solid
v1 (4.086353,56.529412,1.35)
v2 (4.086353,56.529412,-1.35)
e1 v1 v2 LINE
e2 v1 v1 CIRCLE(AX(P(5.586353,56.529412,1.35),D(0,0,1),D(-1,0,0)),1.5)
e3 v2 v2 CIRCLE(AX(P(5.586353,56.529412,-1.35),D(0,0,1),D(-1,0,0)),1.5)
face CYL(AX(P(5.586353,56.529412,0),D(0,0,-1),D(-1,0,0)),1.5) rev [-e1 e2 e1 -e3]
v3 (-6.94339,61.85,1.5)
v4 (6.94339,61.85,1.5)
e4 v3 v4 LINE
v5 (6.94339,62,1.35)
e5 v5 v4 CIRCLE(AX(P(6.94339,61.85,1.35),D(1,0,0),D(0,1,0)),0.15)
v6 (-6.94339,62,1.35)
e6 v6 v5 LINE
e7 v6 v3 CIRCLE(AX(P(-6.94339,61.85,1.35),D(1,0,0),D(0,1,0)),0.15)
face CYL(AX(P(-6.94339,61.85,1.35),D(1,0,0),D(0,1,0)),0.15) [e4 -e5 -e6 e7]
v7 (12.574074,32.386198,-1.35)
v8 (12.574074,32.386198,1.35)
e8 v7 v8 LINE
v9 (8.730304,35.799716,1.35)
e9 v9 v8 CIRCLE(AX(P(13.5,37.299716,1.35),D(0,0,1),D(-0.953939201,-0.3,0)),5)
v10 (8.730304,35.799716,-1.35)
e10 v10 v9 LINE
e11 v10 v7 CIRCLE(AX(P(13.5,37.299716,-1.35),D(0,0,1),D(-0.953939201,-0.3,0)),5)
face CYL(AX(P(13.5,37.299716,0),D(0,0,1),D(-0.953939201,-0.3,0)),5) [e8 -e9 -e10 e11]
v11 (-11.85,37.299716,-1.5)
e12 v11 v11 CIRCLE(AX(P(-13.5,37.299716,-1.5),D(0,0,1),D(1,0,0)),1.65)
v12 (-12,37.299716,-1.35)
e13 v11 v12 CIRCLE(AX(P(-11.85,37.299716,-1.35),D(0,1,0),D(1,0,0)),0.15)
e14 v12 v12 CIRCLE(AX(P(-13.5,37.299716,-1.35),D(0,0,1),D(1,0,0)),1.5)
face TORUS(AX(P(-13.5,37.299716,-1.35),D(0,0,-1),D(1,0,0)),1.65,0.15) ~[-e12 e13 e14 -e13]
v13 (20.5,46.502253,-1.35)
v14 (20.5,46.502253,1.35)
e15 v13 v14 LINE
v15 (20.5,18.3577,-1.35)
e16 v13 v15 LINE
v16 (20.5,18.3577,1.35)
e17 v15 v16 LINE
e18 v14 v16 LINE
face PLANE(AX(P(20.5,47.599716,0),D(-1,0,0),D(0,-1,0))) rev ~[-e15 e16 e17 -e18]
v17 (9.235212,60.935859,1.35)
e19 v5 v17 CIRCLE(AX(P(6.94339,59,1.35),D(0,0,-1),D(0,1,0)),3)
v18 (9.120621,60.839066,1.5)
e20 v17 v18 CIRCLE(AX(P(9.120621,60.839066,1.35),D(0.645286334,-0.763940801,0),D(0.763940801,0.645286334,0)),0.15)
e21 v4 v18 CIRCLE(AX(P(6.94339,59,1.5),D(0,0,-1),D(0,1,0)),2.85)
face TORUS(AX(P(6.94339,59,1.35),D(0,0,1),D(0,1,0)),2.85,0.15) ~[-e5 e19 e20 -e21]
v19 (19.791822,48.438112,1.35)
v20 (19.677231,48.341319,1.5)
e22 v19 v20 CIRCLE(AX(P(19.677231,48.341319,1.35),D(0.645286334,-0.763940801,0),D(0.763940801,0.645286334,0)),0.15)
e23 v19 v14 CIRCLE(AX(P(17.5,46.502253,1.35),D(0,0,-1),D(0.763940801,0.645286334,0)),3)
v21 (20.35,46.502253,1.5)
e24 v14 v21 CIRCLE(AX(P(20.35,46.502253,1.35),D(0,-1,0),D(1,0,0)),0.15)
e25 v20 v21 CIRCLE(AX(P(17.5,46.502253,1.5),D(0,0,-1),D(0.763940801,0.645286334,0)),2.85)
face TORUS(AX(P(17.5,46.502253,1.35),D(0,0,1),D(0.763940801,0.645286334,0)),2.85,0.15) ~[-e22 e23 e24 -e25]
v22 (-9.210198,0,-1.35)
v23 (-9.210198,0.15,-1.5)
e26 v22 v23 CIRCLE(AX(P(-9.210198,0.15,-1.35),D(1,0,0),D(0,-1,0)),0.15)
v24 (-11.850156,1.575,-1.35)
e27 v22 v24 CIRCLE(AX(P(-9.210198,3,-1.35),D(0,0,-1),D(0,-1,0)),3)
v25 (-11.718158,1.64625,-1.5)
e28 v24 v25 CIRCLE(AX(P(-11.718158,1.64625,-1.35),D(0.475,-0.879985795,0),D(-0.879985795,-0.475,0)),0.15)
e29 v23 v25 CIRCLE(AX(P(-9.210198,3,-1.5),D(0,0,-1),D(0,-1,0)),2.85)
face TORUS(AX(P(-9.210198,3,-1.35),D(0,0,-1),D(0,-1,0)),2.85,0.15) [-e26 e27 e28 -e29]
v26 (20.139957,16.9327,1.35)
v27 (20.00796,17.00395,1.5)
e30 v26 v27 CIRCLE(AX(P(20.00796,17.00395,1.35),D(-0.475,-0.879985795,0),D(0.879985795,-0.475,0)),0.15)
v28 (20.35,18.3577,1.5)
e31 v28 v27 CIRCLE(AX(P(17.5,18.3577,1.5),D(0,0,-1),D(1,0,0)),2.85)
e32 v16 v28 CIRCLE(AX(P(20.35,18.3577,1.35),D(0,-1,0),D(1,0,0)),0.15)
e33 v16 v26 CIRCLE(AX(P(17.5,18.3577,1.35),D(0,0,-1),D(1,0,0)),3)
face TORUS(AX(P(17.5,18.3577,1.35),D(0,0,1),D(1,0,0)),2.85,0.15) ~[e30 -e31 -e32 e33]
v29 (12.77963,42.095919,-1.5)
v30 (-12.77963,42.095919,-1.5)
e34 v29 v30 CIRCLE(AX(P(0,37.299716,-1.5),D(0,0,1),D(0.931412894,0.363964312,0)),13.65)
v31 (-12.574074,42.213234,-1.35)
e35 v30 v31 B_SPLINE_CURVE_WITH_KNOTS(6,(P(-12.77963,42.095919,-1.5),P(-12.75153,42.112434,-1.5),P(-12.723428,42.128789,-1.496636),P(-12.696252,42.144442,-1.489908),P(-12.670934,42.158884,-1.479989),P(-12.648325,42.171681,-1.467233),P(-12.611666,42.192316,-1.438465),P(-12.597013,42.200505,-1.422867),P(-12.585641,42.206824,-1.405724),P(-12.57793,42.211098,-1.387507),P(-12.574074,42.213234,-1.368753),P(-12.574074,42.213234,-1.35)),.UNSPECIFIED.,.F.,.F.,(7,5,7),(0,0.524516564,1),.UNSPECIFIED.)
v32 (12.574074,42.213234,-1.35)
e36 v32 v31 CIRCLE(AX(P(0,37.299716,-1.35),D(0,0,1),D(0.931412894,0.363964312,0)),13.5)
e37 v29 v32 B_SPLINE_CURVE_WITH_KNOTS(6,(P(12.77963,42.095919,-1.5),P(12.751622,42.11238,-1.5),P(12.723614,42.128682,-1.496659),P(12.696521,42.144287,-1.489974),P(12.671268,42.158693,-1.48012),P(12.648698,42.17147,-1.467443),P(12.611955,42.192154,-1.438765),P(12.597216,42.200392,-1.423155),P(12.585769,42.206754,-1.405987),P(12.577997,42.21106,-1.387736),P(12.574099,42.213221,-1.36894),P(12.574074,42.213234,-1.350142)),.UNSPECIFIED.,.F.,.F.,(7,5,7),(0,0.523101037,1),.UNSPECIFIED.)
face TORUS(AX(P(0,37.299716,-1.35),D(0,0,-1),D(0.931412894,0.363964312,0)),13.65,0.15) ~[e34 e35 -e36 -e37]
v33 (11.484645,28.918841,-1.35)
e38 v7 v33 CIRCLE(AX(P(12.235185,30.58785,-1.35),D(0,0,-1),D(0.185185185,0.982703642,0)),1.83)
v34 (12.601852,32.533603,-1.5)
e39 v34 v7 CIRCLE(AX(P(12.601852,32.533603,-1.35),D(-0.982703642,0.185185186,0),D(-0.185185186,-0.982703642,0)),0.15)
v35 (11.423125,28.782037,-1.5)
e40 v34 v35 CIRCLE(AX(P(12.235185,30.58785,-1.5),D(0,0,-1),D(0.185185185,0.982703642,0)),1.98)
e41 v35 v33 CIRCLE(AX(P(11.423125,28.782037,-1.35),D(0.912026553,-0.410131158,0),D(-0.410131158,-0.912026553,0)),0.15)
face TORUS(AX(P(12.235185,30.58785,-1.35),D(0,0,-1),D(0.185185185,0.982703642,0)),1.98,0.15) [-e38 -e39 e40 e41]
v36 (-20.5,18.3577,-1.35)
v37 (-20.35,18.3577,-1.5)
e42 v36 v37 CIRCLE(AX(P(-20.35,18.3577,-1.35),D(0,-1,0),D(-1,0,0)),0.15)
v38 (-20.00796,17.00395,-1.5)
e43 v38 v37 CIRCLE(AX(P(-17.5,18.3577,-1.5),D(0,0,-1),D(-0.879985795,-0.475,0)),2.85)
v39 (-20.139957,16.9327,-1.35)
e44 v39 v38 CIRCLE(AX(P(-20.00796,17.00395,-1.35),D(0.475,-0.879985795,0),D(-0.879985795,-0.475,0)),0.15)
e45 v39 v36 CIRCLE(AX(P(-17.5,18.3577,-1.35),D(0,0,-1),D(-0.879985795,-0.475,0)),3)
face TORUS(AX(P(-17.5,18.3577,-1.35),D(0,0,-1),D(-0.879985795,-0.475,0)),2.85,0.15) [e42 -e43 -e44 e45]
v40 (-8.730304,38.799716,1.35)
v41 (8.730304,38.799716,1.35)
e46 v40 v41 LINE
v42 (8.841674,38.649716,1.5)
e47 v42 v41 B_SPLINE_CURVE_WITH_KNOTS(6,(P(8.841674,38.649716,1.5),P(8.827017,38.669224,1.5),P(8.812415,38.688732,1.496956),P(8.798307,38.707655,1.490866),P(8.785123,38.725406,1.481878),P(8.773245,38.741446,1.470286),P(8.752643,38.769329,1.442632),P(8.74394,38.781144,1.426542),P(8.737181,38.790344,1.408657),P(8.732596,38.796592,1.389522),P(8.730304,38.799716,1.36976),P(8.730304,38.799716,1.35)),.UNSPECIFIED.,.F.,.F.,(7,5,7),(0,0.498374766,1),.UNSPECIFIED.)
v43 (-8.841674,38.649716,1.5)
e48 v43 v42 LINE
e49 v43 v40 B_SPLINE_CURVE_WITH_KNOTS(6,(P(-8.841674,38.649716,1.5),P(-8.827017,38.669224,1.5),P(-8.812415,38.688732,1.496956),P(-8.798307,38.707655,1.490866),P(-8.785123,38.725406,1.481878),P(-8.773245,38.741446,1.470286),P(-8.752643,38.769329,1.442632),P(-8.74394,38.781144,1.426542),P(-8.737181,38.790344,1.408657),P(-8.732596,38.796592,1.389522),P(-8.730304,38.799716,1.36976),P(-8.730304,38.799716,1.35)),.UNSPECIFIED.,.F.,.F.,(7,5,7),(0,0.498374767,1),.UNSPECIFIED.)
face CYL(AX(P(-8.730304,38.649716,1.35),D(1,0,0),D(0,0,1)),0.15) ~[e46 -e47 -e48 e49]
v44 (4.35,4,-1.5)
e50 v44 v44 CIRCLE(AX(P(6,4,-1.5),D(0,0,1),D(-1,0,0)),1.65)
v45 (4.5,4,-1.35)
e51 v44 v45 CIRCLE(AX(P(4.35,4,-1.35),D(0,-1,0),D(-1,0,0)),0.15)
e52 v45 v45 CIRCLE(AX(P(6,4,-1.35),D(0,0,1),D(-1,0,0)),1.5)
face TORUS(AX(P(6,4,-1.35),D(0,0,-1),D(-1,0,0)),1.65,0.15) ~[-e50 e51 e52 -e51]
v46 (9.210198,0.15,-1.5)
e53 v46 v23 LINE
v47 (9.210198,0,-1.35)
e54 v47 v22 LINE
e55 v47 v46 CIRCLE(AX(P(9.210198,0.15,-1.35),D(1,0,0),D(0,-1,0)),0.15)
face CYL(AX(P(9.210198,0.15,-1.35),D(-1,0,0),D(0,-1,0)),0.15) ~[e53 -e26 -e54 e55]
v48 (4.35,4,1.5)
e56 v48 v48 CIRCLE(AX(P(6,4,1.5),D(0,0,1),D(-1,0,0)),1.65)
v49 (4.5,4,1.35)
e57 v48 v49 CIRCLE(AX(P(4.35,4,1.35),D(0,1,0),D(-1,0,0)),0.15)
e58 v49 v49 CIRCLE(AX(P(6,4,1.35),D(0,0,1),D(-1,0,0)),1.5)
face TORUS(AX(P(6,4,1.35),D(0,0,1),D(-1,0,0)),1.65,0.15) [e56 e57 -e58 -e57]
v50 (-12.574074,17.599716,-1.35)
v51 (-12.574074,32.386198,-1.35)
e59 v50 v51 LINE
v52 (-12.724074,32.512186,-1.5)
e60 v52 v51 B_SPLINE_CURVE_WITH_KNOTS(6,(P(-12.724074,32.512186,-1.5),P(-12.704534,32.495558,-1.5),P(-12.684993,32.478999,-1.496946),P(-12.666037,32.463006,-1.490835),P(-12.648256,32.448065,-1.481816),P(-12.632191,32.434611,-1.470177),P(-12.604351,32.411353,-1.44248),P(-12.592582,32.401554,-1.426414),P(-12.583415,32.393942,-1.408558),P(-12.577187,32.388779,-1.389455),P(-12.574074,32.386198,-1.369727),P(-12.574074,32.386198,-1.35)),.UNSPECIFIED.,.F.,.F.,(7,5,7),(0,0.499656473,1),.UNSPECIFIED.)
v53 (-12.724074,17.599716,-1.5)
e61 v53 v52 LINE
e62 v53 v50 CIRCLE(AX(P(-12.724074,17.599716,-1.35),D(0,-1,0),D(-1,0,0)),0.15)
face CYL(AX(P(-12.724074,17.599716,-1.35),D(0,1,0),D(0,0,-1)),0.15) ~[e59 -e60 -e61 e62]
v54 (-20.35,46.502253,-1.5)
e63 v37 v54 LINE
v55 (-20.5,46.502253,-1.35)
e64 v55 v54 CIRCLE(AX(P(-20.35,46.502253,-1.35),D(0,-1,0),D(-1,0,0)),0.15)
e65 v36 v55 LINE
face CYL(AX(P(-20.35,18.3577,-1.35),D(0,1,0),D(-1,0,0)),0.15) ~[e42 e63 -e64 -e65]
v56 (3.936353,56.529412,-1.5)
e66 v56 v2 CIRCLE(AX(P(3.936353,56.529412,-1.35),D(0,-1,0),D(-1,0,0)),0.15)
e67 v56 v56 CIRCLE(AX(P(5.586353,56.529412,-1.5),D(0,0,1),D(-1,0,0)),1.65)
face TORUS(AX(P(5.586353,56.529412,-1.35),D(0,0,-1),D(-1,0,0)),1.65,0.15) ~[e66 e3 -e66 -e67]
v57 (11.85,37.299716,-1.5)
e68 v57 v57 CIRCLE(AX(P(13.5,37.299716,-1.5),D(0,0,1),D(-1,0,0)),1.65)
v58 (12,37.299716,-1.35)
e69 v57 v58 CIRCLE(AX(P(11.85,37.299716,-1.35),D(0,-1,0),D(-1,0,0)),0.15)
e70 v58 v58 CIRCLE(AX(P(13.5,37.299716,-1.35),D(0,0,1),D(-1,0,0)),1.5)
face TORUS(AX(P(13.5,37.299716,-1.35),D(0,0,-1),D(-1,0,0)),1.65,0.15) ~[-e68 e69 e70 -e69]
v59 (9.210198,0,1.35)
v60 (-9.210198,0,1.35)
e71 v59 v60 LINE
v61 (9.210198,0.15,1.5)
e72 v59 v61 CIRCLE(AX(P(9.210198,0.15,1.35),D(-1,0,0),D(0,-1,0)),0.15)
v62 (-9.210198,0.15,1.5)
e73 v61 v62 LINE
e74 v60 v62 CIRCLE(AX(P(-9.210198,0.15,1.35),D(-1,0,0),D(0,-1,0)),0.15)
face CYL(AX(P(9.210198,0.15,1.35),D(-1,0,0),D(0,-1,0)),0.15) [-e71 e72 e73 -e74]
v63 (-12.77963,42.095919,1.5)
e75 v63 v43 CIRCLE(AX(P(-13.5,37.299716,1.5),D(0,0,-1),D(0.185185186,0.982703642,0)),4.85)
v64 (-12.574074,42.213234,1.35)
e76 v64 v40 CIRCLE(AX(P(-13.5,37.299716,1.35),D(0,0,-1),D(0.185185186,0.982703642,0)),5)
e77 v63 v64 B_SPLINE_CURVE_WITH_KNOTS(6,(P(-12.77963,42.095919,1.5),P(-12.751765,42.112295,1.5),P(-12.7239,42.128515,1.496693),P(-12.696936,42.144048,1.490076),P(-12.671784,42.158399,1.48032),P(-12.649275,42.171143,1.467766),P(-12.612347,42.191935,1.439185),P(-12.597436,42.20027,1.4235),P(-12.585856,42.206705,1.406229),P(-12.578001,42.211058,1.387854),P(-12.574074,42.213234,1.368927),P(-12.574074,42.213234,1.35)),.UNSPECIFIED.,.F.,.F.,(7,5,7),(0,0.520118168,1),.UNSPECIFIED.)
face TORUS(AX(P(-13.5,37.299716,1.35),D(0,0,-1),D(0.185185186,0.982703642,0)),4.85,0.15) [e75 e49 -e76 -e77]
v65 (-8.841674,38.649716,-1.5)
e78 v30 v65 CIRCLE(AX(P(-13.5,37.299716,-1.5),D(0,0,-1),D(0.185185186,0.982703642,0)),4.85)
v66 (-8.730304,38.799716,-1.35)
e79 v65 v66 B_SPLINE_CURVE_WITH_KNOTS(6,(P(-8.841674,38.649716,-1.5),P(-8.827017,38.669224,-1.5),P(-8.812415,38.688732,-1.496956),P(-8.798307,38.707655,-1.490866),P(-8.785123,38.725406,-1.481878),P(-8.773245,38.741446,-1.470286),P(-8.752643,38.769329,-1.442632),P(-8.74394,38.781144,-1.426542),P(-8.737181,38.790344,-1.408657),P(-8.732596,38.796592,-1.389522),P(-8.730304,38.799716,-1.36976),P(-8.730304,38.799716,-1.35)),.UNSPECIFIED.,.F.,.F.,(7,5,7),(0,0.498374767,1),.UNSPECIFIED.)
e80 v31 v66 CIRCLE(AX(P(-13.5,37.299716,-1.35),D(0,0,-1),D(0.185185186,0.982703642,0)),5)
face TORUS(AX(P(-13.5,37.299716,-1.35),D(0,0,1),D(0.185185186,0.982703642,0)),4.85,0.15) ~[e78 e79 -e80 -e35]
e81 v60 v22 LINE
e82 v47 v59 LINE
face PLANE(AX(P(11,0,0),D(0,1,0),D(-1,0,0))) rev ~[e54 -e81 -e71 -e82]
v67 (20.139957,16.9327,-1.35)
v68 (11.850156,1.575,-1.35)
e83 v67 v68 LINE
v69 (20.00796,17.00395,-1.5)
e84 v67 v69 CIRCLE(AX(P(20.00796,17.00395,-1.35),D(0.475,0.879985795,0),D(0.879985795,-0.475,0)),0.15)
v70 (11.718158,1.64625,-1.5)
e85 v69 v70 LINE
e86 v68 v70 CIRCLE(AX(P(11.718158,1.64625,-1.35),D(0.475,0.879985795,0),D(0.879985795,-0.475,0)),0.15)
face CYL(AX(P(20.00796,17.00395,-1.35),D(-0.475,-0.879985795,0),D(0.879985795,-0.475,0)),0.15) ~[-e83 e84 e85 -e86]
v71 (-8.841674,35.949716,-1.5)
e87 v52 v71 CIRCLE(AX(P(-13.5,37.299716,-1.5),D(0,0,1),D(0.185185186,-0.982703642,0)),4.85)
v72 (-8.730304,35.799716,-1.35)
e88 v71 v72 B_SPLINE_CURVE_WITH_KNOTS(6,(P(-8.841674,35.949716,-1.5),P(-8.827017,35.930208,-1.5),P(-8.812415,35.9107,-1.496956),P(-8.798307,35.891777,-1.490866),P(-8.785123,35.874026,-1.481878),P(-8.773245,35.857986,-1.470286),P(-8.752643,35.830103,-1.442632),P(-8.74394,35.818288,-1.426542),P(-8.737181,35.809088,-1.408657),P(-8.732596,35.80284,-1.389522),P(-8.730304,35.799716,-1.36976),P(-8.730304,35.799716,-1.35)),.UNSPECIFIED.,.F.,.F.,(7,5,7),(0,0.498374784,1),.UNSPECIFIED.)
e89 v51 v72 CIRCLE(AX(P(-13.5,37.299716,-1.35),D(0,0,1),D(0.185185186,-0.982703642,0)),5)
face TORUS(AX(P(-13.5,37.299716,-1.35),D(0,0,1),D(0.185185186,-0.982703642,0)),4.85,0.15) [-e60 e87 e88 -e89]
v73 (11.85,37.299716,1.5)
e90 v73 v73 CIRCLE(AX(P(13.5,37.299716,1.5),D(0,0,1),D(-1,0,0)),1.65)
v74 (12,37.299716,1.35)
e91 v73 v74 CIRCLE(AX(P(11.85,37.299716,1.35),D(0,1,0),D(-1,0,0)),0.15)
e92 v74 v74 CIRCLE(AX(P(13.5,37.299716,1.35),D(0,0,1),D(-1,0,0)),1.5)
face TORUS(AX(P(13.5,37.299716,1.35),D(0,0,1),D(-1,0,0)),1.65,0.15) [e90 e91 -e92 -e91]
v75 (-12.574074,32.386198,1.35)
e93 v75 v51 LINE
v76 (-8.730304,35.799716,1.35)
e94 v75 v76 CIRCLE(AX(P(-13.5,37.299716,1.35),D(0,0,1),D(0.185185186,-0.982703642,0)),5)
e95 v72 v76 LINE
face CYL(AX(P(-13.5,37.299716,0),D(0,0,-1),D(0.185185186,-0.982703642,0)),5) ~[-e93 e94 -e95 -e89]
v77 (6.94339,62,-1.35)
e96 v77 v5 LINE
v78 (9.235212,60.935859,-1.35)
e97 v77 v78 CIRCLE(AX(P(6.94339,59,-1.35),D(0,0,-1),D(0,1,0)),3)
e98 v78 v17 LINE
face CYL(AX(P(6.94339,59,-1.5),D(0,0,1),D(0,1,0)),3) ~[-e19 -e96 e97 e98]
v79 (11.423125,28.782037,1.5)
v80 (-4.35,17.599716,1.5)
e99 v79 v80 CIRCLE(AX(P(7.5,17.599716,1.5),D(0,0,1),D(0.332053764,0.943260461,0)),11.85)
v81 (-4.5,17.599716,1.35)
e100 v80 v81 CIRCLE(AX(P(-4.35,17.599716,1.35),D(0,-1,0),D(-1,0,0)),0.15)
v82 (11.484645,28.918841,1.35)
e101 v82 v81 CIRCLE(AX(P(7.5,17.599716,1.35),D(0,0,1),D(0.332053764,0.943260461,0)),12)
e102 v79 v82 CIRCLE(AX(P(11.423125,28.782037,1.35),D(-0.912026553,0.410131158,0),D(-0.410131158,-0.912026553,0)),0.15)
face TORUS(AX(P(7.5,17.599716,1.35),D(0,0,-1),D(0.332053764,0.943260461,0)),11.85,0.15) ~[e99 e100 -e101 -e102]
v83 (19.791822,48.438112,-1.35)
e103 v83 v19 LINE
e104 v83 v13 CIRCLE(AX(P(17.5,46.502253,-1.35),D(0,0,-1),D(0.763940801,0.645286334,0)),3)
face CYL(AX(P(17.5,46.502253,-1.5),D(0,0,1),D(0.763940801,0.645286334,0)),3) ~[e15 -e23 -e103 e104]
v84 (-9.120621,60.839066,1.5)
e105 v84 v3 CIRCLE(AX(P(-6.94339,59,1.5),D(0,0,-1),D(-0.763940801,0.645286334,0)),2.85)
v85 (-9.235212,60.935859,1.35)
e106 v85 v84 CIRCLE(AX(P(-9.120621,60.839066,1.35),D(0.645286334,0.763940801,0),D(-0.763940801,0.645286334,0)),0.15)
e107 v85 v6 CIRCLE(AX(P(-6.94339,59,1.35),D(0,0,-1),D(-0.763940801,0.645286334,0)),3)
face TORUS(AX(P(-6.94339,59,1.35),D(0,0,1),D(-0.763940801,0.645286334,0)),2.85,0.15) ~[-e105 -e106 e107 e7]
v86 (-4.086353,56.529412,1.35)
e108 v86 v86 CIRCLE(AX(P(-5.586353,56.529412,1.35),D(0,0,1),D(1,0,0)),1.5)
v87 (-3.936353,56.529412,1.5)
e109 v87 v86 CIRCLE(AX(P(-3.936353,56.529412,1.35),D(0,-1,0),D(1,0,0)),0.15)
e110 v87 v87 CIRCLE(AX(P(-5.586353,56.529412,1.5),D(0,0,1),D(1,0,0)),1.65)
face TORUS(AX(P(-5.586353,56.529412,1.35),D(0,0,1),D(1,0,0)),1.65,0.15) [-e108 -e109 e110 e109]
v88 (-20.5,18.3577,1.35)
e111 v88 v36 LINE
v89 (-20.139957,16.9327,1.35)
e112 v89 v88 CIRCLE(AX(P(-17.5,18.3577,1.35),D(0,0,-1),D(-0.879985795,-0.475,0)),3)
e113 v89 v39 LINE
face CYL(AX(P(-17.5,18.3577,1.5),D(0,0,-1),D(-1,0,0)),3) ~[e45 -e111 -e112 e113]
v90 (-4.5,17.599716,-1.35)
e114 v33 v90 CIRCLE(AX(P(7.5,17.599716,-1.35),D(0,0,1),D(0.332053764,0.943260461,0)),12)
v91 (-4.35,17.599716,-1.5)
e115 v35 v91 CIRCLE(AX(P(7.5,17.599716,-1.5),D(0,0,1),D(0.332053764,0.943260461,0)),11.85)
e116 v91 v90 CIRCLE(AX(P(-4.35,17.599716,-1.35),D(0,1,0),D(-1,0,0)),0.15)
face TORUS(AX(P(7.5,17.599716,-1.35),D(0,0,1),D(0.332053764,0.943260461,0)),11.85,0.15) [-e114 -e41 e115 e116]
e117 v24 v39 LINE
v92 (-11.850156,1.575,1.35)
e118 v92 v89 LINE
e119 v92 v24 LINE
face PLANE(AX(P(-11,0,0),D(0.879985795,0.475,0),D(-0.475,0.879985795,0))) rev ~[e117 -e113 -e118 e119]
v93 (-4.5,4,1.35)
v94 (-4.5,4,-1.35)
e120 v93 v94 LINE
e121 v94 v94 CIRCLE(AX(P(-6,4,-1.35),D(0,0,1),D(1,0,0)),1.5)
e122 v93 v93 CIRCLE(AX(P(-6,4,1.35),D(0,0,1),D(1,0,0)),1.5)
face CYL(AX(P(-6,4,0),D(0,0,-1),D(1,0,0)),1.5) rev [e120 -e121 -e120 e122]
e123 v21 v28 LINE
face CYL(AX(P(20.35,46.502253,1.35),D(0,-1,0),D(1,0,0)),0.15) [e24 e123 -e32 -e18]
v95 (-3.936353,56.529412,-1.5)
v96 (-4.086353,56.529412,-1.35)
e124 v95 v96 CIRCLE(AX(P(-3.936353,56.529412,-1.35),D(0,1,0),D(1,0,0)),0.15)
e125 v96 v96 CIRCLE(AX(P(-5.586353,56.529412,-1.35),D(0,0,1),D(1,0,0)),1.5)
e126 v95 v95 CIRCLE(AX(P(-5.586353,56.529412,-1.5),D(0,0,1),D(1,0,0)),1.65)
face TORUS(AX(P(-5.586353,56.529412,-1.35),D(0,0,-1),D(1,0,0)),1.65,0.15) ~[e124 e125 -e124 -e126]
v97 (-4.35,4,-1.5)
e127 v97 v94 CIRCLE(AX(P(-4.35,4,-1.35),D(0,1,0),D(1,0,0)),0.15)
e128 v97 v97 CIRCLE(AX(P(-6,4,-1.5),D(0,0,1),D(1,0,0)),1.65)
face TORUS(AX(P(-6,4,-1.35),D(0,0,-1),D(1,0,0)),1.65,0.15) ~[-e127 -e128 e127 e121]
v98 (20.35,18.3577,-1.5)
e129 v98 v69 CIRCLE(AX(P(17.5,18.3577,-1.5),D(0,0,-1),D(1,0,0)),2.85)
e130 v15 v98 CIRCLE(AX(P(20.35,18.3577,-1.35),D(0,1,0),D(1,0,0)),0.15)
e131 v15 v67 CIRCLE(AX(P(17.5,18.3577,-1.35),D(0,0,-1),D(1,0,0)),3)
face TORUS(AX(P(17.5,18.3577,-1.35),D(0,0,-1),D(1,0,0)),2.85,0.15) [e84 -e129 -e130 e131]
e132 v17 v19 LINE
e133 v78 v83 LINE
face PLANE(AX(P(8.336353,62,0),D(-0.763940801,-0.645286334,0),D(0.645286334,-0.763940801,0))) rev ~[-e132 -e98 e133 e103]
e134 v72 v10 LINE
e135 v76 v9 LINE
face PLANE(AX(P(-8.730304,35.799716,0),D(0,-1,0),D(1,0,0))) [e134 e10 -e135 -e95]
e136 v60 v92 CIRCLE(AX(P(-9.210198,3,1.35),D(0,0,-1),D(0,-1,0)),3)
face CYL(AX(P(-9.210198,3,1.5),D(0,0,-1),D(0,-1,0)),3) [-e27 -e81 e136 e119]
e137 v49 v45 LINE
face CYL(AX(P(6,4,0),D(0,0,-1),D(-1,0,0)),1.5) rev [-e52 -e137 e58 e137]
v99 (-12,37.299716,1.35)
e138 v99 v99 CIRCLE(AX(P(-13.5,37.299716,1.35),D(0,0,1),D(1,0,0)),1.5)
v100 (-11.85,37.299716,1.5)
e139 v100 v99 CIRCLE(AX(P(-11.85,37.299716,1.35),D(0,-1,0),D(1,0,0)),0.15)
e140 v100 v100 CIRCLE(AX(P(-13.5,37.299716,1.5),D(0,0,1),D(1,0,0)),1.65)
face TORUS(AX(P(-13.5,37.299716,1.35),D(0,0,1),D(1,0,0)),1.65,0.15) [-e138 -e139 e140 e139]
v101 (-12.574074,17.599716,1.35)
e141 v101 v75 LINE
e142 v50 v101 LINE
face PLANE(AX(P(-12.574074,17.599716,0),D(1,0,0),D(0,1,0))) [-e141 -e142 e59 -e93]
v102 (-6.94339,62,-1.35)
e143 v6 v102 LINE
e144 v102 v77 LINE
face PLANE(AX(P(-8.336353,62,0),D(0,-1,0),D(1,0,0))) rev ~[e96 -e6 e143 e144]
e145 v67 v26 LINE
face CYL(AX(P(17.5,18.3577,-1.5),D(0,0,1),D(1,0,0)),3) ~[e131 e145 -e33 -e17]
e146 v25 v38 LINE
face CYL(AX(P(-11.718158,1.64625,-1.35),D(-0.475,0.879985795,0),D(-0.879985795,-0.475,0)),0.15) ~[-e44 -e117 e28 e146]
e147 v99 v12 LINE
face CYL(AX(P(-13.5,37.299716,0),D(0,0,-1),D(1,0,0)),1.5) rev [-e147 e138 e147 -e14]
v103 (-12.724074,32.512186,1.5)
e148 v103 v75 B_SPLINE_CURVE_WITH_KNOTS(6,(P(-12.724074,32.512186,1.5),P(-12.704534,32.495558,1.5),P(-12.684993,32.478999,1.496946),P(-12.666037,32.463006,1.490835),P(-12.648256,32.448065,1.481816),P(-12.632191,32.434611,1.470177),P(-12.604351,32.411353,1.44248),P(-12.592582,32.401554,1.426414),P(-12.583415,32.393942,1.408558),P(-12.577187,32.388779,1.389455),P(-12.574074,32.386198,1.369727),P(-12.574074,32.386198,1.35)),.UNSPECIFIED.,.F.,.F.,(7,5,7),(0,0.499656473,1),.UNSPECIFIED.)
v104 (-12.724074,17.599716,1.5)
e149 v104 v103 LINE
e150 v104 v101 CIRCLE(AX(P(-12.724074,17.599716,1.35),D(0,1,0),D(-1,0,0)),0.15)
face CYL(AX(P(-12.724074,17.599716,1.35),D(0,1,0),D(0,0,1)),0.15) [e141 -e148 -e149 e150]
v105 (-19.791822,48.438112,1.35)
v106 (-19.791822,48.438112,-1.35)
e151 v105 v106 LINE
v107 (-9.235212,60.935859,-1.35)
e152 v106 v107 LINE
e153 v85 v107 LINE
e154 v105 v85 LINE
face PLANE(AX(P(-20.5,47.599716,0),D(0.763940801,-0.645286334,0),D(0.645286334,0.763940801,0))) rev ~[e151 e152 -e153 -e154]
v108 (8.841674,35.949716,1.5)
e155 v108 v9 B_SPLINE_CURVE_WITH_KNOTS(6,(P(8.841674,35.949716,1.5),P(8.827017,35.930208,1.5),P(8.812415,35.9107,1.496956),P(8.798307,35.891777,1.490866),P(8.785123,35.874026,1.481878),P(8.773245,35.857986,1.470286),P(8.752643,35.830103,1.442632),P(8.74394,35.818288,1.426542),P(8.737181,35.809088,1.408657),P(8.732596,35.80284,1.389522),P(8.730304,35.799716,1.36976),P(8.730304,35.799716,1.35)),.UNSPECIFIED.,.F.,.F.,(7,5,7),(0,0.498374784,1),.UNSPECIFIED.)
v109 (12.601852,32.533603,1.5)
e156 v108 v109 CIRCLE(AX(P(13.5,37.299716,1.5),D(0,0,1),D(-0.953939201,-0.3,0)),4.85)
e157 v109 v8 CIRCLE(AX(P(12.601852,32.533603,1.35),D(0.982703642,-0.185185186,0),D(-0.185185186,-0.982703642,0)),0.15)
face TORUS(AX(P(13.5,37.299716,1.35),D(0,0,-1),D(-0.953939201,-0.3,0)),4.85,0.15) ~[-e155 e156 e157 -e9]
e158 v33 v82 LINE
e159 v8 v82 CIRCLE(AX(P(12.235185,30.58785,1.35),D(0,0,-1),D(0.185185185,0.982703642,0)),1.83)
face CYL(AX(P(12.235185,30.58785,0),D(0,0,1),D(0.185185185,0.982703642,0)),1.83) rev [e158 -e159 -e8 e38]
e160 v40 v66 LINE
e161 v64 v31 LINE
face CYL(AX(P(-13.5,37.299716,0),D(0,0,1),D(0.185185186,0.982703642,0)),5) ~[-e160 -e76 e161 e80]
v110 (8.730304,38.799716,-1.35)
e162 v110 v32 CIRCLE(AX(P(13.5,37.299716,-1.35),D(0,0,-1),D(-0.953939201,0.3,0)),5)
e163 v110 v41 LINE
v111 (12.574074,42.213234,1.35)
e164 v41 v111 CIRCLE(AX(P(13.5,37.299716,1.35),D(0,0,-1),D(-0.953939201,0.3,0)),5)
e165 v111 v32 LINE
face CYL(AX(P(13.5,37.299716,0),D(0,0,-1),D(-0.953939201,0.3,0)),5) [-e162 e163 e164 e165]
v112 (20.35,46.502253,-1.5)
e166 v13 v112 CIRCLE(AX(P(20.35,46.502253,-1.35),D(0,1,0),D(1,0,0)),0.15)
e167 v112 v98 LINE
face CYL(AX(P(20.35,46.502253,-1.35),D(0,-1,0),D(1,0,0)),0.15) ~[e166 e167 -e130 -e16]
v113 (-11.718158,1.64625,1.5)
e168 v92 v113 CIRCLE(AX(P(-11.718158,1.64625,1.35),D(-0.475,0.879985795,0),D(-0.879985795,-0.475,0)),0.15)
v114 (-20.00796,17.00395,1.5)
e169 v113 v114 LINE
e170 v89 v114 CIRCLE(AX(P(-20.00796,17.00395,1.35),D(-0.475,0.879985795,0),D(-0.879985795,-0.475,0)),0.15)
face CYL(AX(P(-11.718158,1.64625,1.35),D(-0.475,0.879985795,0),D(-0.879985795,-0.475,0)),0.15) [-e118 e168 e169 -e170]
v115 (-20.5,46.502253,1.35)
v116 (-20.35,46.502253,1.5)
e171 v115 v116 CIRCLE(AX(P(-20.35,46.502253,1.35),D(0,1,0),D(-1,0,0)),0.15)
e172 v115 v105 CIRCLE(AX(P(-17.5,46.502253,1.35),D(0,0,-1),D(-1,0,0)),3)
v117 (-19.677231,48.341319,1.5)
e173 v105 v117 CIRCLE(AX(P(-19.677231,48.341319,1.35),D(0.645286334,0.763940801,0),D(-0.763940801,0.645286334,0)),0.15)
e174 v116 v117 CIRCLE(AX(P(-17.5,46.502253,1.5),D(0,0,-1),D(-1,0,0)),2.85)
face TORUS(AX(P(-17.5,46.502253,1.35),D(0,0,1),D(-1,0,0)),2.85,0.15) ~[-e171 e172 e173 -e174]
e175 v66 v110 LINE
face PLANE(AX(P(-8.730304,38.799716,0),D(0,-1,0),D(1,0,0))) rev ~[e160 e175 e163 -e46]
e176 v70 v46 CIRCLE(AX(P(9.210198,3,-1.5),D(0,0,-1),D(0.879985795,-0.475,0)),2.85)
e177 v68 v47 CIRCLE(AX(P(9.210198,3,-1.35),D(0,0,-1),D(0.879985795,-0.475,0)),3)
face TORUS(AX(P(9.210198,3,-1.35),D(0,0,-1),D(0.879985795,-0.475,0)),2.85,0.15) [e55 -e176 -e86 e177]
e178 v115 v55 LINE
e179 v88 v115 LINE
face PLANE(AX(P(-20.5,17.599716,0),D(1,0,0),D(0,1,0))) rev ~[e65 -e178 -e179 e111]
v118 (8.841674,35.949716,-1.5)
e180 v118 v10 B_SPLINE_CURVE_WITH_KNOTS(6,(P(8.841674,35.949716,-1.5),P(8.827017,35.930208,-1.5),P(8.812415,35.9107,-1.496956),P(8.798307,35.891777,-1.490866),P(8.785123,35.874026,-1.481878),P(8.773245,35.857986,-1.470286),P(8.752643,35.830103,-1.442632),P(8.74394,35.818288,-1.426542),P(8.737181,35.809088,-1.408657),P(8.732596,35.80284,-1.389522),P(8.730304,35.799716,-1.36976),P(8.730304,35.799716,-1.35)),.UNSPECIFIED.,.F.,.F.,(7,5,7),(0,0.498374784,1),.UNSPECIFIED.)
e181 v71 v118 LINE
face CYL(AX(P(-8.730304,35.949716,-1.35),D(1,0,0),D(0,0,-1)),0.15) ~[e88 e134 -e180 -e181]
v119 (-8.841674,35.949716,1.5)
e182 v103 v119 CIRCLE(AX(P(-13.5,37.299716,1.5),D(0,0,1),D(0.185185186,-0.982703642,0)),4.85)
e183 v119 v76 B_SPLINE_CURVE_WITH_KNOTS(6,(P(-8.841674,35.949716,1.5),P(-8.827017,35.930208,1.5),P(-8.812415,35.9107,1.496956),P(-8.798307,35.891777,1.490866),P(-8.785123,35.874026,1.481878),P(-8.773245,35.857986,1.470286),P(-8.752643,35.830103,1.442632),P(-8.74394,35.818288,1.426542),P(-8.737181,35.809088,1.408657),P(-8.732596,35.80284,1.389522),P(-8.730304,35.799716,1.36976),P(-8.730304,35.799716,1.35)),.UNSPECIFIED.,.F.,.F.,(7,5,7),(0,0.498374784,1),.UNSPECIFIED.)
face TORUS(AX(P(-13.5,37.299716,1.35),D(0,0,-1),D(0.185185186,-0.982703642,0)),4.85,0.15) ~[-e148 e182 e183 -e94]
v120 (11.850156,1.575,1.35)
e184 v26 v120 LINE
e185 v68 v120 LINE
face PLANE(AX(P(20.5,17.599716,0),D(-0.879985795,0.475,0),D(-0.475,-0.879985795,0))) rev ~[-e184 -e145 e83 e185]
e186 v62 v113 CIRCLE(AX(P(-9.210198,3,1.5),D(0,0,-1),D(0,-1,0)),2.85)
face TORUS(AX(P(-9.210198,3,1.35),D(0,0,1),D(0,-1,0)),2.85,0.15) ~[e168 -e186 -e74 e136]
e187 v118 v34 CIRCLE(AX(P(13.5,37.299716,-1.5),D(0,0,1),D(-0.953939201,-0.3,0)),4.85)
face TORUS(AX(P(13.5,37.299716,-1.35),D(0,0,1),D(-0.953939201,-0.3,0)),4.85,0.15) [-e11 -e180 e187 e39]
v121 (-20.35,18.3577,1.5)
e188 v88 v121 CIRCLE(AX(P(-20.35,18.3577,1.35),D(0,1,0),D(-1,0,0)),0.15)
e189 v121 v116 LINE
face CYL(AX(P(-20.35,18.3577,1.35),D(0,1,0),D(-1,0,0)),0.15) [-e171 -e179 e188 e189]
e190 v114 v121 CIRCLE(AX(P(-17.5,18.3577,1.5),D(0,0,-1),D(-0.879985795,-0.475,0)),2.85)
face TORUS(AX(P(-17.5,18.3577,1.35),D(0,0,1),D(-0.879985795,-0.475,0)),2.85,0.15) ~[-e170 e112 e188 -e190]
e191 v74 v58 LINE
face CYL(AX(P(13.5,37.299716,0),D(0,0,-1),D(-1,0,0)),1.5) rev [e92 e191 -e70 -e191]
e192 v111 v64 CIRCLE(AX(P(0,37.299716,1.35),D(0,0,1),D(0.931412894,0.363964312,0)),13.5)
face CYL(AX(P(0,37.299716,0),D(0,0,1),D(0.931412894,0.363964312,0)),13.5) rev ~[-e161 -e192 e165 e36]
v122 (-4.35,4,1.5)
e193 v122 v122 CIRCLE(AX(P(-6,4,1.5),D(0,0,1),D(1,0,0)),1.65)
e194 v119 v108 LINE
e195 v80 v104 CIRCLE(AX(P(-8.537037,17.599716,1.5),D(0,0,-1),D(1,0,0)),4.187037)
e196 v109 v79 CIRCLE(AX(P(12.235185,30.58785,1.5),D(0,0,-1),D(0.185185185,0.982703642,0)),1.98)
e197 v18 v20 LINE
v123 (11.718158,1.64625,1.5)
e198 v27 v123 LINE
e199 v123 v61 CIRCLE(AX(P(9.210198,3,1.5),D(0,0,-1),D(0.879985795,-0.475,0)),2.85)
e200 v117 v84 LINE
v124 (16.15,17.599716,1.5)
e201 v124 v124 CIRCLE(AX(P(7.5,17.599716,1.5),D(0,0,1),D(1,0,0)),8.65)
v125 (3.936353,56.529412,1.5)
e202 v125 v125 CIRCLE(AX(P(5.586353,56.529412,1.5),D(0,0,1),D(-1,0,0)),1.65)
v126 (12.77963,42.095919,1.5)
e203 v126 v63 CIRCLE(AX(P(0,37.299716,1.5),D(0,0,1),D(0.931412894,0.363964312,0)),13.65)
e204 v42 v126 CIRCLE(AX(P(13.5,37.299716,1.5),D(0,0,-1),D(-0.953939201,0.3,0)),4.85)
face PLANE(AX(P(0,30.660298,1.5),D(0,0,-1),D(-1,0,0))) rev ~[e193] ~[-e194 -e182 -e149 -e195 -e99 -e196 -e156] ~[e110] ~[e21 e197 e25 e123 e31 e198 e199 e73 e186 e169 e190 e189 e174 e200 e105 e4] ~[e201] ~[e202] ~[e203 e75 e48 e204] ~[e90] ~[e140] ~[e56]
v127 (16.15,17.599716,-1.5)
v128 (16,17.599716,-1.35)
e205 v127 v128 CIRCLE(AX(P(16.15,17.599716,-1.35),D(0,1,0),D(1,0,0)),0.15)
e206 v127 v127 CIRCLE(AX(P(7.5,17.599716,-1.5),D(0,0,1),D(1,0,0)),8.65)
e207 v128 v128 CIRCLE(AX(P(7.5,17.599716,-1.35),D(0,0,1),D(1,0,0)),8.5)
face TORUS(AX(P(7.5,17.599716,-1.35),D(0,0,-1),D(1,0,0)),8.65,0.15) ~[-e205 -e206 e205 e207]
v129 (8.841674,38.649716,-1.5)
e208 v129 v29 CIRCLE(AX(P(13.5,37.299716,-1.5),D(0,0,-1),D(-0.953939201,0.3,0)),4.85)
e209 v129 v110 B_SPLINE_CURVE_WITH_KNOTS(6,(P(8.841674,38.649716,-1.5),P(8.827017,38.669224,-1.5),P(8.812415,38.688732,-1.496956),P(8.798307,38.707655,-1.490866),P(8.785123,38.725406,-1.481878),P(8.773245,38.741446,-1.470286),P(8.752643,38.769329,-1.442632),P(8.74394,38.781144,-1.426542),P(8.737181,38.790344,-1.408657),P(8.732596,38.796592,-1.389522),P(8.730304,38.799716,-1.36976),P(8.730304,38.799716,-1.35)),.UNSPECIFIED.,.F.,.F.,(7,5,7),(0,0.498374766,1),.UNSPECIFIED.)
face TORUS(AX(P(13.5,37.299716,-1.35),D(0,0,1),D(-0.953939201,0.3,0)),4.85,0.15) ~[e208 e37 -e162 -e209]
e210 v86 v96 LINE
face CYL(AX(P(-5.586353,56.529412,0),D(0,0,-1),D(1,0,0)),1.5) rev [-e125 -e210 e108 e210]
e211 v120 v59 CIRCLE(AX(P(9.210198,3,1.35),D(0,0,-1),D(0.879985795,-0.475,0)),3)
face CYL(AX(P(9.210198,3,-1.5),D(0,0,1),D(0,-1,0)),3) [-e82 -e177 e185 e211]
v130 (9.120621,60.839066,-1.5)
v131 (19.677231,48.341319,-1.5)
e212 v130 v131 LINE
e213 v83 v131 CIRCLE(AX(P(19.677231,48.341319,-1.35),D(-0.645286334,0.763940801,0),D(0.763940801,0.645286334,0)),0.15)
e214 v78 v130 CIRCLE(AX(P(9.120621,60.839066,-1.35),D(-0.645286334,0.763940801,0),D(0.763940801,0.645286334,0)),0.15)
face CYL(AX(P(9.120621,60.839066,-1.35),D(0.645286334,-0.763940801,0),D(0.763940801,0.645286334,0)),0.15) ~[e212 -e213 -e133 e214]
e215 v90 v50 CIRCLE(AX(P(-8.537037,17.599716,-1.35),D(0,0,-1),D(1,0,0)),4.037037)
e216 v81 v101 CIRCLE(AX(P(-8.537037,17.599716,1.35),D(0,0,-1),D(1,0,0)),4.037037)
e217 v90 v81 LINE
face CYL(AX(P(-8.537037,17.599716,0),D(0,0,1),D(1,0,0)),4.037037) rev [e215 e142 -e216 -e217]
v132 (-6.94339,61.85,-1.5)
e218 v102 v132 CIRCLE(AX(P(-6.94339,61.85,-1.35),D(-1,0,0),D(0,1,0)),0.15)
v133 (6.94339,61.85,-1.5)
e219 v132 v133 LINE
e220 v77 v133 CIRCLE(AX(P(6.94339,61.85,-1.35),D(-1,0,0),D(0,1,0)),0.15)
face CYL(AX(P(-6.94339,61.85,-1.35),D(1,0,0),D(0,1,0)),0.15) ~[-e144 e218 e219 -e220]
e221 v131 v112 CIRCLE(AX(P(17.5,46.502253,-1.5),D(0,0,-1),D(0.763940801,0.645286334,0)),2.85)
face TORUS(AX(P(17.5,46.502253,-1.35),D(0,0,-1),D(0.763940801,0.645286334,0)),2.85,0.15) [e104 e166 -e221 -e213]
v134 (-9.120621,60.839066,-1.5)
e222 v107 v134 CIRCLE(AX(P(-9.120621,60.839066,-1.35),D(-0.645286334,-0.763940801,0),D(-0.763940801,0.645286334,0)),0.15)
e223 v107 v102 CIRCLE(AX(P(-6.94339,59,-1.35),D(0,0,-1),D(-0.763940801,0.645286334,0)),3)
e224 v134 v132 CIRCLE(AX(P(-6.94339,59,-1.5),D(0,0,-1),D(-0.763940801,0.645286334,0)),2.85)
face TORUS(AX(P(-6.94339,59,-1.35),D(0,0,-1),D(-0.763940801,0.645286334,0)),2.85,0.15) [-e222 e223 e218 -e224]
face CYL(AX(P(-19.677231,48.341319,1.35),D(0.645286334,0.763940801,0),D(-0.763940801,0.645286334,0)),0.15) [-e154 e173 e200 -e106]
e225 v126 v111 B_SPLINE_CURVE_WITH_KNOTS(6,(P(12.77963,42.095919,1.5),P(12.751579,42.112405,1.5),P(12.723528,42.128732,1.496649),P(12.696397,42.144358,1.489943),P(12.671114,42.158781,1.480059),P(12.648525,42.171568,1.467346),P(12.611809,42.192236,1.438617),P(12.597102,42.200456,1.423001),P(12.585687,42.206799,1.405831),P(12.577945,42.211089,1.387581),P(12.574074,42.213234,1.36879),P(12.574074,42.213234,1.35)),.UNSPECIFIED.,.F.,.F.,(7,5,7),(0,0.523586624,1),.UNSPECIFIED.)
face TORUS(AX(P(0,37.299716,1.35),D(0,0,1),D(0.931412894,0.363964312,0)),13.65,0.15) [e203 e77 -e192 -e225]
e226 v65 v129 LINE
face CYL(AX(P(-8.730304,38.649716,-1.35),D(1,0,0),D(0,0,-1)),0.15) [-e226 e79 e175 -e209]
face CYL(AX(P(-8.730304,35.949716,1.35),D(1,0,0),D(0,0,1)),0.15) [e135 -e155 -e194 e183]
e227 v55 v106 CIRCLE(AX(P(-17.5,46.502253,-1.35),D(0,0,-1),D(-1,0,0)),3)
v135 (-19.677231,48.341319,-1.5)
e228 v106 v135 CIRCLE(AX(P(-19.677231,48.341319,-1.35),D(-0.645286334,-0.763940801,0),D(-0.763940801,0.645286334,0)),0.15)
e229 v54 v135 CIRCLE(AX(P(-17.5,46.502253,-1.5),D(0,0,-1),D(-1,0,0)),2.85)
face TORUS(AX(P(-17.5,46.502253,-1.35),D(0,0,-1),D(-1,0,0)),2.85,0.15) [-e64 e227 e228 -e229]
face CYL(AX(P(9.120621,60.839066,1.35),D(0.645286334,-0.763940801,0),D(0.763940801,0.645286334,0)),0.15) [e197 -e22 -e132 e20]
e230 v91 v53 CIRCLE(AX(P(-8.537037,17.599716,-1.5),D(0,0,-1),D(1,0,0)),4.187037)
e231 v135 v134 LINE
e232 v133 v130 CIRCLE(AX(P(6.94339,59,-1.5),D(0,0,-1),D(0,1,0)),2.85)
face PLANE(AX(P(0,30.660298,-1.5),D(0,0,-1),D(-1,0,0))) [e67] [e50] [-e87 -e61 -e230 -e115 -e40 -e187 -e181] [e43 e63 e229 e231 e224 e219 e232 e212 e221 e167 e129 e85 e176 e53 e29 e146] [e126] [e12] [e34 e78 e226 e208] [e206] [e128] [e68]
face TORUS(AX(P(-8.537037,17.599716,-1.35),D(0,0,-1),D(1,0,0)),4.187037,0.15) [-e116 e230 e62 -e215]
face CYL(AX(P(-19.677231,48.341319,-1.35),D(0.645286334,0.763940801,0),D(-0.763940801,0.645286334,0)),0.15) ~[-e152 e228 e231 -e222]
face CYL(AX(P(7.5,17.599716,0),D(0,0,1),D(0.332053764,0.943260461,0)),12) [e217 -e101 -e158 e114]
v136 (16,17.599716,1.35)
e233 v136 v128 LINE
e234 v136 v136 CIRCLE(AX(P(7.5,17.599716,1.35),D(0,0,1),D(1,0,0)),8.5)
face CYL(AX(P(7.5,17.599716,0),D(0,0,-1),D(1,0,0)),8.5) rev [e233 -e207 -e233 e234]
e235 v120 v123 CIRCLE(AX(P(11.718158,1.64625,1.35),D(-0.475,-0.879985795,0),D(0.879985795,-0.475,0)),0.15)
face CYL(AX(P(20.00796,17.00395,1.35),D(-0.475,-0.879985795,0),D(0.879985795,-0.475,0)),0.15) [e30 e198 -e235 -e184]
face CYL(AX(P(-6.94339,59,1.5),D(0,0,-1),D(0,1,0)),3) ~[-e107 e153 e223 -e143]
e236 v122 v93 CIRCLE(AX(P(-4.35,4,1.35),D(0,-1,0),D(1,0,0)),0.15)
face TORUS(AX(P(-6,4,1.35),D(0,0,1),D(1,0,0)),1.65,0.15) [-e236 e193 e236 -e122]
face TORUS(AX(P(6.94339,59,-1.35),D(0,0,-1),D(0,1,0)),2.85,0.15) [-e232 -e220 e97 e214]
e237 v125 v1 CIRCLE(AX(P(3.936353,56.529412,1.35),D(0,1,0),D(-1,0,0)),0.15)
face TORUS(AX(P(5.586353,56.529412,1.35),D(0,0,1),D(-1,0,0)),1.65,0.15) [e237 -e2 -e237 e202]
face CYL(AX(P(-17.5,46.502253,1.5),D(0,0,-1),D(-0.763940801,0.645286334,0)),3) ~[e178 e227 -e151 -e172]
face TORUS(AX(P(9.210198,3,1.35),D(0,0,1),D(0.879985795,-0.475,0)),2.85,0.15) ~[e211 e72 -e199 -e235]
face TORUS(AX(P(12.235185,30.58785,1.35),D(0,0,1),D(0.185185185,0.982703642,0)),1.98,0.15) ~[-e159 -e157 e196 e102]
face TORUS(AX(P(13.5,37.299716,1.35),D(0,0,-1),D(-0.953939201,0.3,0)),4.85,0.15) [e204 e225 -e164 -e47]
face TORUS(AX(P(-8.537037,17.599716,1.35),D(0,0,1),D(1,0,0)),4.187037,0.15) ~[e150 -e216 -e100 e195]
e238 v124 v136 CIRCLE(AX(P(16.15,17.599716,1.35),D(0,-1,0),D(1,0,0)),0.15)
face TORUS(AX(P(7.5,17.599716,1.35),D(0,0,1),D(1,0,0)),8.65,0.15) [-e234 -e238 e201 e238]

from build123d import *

# Parameters (mm, degrees)
SKETCH1_R           = 1.5
SKETCH1_R_2         = 8.5
BOSS_EXTRUDE1_DEPTH = 1.5
FILLET1_R           = 3
FILLET2_R           = 0.15


with BuildPart() as part:
    # Sketch1 → Boss-Extrude1 (new, symmetric)
    with BuildSketch(Plane.XY):
        Polygon((11, 0), (-11, 0), (-20.5, 17.599715907), (-20.5, 47.599715907), (-8.336352601, 62), (8.336352601, 62), (20.5, 47.599715907), (20.5, 17.599715907), align=None)
        with Locations((-5.586352601, 56.529411765)):
            Circle(SKETCH1_R, mode=Mode.SUBTRACT)
        with Locations((-13.5, 37.299715907)):
            Circle(SKETCH1_R, mode=Mode.SUBTRACT)
        with Locations((-6, 4)):
            Circle(SKETCH1_R, mode=Mode.SUBTRACT)
        with Locations(Location((5.586352601, 56.529411765, 0), (0, 0, 180))):
            Circle(SKETCH1_R, mode=Mode.SUBTRACT)
        with Locations(Location((6, 4, 0), (0, 0, 180))):
            Circle(SKETCH1_R, mode=Mode.SUBTRACT)
        with Locations(Location((13.5, 37.299715907, 0), (0, 0, 180))):
            Circle(SKETCH1_R, mode=Mode.SUBTRACT)
        with Locations((7.5, 17.599715907)):
            Circle(SKETCH1_R_2, mode=Mode.SUBTRACT)
        with BuildLine():
            Line((-8.730303993, 38.799715907), (8.730303993, 38.799715907))
            ThreePointArc((8.730303993, 38.799715907), (10.179901517, 41.038291312), (12.574074074, 42.213234115))
            ThreePointArc((12.574074074, 42.213234115), (0, 50.799715907), (-12.574074074, 42.213234115))
            ThreePointArc((-12.574074074, 42.213234115), (-10.179901517, 41.038291312), (-8.730303993, 38.799715907))
        make_face(mode=Mode.SUBTRACT)
        with BuildLine():
            Line((-8.730303993, 35.799715907), (8.730303993, 35.799715907))
            ThreePointArc((8.730303993, 35.799715907), (10.179901517, 33.561140502), (12.574074074, 32.386197699))
            ThreePointArc((12.574074074, 32.386197699), (13.981038563, 30.039310168), (11.484645167, 28.918841443))
            ThreePointArc((11.484645167, 28.918841443), (0.565151119, 27.392972311), (-4.5, 17.599715907))
            ThreePointArc((-4.5, 17.599715907), (-8.537037037, 13.56267887), (-12.574074074, 17.599715907))
            Line((-12.574074074, 17.599715907), (-12.574074074, 32.386197699))
            ThreePointArc((-12.574074074, 32.386197699), (-10.179901517, 33.561140502), (-8.730303993, 35.799715907))
        make_face(mode=Mode.SUBTRACT)
    extrude(amount=BOSS_EXTRUDE1_DEPTH, both=True)

    # Fillet1
    fillet1_edges = [part.edges().sort_by_distance(p)[0] for p in [
        (-20.5, 17.599715907, 0),
        (-20.5, 47.599715907, 0),
        (-8.336352601, 62, 0),
        (8.336352601, 62, 0),
        (20.5, 47.599715907, 0),
        (20.5, 17.599715907, 0),
        (11, 0, 0),
        (-11, 0, 0),
    ]]
    fillet(fillet1_edges, radius=FILLET1_R)

    # Fillet2
    fillet2_edges = [part.edges().sort_by_distance(p)[0] for p in [
        (0, 0, -1.5),
        (0, 0, 1.5),
        (10.747240997, 0.423665394, -1.5),
        (-10.747240997, 0.423665394, -1.5),
        (15.995056577, 9.253850179, -1.5),
        (-15.995056577, 9.253850179, -1.5),
        (20.408596926, 17.622809943, -1.5),
        (-20.408596926, 17.622809943, -1.5),
        (20.5, 32.429976848, -1.5),
        (-20.5, 32.429976848, -1.5),
        (20.317398375, 47.532916424, -1.5),
        (-20.317398375, 47.532916424, -1.5),
        (14.513517381, 54.686985671, -1.5),
        (-14.513517381, 54.686985671, -1.5),
        (8.206802597, 61.720990353, -1.5),
        (-8.206802597, 61.720990353, -1.5),
        (0, 62, -1.5),
        (-7.086352601, 56.529411765, -1.5),
        (-15, 37.299715907, -1.5),
        (-7.5, 4, -1.5),
        (7.086352601, 56.529411765, -1.5),
        (7.5, 4, -1.5),
        (15, 37.299715907, -1.5),
        (-1, 17.599715907, -1.5),
        (0, 50.799715907, -1.5),
        (-10.179901517, 41.038291312, -1.5),
        (0, 38.799715907, -1.5),
        (10.179901517, 41.038291312, -1.5),
        (-10.179901517, 33.561140502, -1.5),
        (-12.574074074, 24.992956803, -1.5),
        (-8.537037037, 13.56267887, -1.5),
        (0.565151119, 27.392972311, -1.5),
        (13.981038563, 30.039310168, -1.5),
        (10.179901517, 33.561140502, -1.5),
        (0, 35.799715907, -1.5),
        (10.747240997, 0.423665394, 1.5),
        (-10.747240997, 0.423665394, 1.5),
        (15.995056577, 9.253850179, 1.5),
        (-15.995056577, 9.253850179, 1.5),
        (20.408596926, 17.622809943, 1.5),
        (-20.408596926, 17.622809943, 1.5),
        (20.5, 32.429976848, 1.5),
        (-20.5, 32.429976848, 1.5),
        (20.317398375, 47.532916424, 1.5),
        (-20.317398375, 47.532916424, 1.5),
        (14.513517381, 54.686985671, 1.5),
        (-14.513517381, 54.686985671, 1.5),
        (8.206802597, 61.720990353, 1.5),
        (-8.206802597, 61.720990353, 1.5),
        (0, 62, 1.5),
        (-7.086352601, 56.529411765, 1.5),
        (-15, 37.299715907, 1.5),
        (-7.5, 4, 1.5),
        (7.086352601, 56.529411765, 1.5),
        (7.5, 4, 1.5),
        (15, 37.299715907, 1.5),
        (-1, 17.599715907, 1.5),
        (0, 50.799715907, 1.5),
        (-10.179901517, 41.038291312, 1.5),
        (0, 38.799715907, 1.5),
        (10.179901517, 41.038291312, 1.5),
        (-10.179901517, 33.561140502, 1.5),
        (-12.574074074, 24.992956803, 1.5),
        (-8.537037037, 13.56267887, 1.5),
        (0.565151119, 27.392972311, 1.5),
        (13.981038563, 30.039310168, 1.5),
        (10.179901517, 33.561140502, 1.5),
        (0, 35.799715907, 1.5),
    ]]
    fillet(fillet2_edges, radius=FILLET2_R)


solid = part.part
